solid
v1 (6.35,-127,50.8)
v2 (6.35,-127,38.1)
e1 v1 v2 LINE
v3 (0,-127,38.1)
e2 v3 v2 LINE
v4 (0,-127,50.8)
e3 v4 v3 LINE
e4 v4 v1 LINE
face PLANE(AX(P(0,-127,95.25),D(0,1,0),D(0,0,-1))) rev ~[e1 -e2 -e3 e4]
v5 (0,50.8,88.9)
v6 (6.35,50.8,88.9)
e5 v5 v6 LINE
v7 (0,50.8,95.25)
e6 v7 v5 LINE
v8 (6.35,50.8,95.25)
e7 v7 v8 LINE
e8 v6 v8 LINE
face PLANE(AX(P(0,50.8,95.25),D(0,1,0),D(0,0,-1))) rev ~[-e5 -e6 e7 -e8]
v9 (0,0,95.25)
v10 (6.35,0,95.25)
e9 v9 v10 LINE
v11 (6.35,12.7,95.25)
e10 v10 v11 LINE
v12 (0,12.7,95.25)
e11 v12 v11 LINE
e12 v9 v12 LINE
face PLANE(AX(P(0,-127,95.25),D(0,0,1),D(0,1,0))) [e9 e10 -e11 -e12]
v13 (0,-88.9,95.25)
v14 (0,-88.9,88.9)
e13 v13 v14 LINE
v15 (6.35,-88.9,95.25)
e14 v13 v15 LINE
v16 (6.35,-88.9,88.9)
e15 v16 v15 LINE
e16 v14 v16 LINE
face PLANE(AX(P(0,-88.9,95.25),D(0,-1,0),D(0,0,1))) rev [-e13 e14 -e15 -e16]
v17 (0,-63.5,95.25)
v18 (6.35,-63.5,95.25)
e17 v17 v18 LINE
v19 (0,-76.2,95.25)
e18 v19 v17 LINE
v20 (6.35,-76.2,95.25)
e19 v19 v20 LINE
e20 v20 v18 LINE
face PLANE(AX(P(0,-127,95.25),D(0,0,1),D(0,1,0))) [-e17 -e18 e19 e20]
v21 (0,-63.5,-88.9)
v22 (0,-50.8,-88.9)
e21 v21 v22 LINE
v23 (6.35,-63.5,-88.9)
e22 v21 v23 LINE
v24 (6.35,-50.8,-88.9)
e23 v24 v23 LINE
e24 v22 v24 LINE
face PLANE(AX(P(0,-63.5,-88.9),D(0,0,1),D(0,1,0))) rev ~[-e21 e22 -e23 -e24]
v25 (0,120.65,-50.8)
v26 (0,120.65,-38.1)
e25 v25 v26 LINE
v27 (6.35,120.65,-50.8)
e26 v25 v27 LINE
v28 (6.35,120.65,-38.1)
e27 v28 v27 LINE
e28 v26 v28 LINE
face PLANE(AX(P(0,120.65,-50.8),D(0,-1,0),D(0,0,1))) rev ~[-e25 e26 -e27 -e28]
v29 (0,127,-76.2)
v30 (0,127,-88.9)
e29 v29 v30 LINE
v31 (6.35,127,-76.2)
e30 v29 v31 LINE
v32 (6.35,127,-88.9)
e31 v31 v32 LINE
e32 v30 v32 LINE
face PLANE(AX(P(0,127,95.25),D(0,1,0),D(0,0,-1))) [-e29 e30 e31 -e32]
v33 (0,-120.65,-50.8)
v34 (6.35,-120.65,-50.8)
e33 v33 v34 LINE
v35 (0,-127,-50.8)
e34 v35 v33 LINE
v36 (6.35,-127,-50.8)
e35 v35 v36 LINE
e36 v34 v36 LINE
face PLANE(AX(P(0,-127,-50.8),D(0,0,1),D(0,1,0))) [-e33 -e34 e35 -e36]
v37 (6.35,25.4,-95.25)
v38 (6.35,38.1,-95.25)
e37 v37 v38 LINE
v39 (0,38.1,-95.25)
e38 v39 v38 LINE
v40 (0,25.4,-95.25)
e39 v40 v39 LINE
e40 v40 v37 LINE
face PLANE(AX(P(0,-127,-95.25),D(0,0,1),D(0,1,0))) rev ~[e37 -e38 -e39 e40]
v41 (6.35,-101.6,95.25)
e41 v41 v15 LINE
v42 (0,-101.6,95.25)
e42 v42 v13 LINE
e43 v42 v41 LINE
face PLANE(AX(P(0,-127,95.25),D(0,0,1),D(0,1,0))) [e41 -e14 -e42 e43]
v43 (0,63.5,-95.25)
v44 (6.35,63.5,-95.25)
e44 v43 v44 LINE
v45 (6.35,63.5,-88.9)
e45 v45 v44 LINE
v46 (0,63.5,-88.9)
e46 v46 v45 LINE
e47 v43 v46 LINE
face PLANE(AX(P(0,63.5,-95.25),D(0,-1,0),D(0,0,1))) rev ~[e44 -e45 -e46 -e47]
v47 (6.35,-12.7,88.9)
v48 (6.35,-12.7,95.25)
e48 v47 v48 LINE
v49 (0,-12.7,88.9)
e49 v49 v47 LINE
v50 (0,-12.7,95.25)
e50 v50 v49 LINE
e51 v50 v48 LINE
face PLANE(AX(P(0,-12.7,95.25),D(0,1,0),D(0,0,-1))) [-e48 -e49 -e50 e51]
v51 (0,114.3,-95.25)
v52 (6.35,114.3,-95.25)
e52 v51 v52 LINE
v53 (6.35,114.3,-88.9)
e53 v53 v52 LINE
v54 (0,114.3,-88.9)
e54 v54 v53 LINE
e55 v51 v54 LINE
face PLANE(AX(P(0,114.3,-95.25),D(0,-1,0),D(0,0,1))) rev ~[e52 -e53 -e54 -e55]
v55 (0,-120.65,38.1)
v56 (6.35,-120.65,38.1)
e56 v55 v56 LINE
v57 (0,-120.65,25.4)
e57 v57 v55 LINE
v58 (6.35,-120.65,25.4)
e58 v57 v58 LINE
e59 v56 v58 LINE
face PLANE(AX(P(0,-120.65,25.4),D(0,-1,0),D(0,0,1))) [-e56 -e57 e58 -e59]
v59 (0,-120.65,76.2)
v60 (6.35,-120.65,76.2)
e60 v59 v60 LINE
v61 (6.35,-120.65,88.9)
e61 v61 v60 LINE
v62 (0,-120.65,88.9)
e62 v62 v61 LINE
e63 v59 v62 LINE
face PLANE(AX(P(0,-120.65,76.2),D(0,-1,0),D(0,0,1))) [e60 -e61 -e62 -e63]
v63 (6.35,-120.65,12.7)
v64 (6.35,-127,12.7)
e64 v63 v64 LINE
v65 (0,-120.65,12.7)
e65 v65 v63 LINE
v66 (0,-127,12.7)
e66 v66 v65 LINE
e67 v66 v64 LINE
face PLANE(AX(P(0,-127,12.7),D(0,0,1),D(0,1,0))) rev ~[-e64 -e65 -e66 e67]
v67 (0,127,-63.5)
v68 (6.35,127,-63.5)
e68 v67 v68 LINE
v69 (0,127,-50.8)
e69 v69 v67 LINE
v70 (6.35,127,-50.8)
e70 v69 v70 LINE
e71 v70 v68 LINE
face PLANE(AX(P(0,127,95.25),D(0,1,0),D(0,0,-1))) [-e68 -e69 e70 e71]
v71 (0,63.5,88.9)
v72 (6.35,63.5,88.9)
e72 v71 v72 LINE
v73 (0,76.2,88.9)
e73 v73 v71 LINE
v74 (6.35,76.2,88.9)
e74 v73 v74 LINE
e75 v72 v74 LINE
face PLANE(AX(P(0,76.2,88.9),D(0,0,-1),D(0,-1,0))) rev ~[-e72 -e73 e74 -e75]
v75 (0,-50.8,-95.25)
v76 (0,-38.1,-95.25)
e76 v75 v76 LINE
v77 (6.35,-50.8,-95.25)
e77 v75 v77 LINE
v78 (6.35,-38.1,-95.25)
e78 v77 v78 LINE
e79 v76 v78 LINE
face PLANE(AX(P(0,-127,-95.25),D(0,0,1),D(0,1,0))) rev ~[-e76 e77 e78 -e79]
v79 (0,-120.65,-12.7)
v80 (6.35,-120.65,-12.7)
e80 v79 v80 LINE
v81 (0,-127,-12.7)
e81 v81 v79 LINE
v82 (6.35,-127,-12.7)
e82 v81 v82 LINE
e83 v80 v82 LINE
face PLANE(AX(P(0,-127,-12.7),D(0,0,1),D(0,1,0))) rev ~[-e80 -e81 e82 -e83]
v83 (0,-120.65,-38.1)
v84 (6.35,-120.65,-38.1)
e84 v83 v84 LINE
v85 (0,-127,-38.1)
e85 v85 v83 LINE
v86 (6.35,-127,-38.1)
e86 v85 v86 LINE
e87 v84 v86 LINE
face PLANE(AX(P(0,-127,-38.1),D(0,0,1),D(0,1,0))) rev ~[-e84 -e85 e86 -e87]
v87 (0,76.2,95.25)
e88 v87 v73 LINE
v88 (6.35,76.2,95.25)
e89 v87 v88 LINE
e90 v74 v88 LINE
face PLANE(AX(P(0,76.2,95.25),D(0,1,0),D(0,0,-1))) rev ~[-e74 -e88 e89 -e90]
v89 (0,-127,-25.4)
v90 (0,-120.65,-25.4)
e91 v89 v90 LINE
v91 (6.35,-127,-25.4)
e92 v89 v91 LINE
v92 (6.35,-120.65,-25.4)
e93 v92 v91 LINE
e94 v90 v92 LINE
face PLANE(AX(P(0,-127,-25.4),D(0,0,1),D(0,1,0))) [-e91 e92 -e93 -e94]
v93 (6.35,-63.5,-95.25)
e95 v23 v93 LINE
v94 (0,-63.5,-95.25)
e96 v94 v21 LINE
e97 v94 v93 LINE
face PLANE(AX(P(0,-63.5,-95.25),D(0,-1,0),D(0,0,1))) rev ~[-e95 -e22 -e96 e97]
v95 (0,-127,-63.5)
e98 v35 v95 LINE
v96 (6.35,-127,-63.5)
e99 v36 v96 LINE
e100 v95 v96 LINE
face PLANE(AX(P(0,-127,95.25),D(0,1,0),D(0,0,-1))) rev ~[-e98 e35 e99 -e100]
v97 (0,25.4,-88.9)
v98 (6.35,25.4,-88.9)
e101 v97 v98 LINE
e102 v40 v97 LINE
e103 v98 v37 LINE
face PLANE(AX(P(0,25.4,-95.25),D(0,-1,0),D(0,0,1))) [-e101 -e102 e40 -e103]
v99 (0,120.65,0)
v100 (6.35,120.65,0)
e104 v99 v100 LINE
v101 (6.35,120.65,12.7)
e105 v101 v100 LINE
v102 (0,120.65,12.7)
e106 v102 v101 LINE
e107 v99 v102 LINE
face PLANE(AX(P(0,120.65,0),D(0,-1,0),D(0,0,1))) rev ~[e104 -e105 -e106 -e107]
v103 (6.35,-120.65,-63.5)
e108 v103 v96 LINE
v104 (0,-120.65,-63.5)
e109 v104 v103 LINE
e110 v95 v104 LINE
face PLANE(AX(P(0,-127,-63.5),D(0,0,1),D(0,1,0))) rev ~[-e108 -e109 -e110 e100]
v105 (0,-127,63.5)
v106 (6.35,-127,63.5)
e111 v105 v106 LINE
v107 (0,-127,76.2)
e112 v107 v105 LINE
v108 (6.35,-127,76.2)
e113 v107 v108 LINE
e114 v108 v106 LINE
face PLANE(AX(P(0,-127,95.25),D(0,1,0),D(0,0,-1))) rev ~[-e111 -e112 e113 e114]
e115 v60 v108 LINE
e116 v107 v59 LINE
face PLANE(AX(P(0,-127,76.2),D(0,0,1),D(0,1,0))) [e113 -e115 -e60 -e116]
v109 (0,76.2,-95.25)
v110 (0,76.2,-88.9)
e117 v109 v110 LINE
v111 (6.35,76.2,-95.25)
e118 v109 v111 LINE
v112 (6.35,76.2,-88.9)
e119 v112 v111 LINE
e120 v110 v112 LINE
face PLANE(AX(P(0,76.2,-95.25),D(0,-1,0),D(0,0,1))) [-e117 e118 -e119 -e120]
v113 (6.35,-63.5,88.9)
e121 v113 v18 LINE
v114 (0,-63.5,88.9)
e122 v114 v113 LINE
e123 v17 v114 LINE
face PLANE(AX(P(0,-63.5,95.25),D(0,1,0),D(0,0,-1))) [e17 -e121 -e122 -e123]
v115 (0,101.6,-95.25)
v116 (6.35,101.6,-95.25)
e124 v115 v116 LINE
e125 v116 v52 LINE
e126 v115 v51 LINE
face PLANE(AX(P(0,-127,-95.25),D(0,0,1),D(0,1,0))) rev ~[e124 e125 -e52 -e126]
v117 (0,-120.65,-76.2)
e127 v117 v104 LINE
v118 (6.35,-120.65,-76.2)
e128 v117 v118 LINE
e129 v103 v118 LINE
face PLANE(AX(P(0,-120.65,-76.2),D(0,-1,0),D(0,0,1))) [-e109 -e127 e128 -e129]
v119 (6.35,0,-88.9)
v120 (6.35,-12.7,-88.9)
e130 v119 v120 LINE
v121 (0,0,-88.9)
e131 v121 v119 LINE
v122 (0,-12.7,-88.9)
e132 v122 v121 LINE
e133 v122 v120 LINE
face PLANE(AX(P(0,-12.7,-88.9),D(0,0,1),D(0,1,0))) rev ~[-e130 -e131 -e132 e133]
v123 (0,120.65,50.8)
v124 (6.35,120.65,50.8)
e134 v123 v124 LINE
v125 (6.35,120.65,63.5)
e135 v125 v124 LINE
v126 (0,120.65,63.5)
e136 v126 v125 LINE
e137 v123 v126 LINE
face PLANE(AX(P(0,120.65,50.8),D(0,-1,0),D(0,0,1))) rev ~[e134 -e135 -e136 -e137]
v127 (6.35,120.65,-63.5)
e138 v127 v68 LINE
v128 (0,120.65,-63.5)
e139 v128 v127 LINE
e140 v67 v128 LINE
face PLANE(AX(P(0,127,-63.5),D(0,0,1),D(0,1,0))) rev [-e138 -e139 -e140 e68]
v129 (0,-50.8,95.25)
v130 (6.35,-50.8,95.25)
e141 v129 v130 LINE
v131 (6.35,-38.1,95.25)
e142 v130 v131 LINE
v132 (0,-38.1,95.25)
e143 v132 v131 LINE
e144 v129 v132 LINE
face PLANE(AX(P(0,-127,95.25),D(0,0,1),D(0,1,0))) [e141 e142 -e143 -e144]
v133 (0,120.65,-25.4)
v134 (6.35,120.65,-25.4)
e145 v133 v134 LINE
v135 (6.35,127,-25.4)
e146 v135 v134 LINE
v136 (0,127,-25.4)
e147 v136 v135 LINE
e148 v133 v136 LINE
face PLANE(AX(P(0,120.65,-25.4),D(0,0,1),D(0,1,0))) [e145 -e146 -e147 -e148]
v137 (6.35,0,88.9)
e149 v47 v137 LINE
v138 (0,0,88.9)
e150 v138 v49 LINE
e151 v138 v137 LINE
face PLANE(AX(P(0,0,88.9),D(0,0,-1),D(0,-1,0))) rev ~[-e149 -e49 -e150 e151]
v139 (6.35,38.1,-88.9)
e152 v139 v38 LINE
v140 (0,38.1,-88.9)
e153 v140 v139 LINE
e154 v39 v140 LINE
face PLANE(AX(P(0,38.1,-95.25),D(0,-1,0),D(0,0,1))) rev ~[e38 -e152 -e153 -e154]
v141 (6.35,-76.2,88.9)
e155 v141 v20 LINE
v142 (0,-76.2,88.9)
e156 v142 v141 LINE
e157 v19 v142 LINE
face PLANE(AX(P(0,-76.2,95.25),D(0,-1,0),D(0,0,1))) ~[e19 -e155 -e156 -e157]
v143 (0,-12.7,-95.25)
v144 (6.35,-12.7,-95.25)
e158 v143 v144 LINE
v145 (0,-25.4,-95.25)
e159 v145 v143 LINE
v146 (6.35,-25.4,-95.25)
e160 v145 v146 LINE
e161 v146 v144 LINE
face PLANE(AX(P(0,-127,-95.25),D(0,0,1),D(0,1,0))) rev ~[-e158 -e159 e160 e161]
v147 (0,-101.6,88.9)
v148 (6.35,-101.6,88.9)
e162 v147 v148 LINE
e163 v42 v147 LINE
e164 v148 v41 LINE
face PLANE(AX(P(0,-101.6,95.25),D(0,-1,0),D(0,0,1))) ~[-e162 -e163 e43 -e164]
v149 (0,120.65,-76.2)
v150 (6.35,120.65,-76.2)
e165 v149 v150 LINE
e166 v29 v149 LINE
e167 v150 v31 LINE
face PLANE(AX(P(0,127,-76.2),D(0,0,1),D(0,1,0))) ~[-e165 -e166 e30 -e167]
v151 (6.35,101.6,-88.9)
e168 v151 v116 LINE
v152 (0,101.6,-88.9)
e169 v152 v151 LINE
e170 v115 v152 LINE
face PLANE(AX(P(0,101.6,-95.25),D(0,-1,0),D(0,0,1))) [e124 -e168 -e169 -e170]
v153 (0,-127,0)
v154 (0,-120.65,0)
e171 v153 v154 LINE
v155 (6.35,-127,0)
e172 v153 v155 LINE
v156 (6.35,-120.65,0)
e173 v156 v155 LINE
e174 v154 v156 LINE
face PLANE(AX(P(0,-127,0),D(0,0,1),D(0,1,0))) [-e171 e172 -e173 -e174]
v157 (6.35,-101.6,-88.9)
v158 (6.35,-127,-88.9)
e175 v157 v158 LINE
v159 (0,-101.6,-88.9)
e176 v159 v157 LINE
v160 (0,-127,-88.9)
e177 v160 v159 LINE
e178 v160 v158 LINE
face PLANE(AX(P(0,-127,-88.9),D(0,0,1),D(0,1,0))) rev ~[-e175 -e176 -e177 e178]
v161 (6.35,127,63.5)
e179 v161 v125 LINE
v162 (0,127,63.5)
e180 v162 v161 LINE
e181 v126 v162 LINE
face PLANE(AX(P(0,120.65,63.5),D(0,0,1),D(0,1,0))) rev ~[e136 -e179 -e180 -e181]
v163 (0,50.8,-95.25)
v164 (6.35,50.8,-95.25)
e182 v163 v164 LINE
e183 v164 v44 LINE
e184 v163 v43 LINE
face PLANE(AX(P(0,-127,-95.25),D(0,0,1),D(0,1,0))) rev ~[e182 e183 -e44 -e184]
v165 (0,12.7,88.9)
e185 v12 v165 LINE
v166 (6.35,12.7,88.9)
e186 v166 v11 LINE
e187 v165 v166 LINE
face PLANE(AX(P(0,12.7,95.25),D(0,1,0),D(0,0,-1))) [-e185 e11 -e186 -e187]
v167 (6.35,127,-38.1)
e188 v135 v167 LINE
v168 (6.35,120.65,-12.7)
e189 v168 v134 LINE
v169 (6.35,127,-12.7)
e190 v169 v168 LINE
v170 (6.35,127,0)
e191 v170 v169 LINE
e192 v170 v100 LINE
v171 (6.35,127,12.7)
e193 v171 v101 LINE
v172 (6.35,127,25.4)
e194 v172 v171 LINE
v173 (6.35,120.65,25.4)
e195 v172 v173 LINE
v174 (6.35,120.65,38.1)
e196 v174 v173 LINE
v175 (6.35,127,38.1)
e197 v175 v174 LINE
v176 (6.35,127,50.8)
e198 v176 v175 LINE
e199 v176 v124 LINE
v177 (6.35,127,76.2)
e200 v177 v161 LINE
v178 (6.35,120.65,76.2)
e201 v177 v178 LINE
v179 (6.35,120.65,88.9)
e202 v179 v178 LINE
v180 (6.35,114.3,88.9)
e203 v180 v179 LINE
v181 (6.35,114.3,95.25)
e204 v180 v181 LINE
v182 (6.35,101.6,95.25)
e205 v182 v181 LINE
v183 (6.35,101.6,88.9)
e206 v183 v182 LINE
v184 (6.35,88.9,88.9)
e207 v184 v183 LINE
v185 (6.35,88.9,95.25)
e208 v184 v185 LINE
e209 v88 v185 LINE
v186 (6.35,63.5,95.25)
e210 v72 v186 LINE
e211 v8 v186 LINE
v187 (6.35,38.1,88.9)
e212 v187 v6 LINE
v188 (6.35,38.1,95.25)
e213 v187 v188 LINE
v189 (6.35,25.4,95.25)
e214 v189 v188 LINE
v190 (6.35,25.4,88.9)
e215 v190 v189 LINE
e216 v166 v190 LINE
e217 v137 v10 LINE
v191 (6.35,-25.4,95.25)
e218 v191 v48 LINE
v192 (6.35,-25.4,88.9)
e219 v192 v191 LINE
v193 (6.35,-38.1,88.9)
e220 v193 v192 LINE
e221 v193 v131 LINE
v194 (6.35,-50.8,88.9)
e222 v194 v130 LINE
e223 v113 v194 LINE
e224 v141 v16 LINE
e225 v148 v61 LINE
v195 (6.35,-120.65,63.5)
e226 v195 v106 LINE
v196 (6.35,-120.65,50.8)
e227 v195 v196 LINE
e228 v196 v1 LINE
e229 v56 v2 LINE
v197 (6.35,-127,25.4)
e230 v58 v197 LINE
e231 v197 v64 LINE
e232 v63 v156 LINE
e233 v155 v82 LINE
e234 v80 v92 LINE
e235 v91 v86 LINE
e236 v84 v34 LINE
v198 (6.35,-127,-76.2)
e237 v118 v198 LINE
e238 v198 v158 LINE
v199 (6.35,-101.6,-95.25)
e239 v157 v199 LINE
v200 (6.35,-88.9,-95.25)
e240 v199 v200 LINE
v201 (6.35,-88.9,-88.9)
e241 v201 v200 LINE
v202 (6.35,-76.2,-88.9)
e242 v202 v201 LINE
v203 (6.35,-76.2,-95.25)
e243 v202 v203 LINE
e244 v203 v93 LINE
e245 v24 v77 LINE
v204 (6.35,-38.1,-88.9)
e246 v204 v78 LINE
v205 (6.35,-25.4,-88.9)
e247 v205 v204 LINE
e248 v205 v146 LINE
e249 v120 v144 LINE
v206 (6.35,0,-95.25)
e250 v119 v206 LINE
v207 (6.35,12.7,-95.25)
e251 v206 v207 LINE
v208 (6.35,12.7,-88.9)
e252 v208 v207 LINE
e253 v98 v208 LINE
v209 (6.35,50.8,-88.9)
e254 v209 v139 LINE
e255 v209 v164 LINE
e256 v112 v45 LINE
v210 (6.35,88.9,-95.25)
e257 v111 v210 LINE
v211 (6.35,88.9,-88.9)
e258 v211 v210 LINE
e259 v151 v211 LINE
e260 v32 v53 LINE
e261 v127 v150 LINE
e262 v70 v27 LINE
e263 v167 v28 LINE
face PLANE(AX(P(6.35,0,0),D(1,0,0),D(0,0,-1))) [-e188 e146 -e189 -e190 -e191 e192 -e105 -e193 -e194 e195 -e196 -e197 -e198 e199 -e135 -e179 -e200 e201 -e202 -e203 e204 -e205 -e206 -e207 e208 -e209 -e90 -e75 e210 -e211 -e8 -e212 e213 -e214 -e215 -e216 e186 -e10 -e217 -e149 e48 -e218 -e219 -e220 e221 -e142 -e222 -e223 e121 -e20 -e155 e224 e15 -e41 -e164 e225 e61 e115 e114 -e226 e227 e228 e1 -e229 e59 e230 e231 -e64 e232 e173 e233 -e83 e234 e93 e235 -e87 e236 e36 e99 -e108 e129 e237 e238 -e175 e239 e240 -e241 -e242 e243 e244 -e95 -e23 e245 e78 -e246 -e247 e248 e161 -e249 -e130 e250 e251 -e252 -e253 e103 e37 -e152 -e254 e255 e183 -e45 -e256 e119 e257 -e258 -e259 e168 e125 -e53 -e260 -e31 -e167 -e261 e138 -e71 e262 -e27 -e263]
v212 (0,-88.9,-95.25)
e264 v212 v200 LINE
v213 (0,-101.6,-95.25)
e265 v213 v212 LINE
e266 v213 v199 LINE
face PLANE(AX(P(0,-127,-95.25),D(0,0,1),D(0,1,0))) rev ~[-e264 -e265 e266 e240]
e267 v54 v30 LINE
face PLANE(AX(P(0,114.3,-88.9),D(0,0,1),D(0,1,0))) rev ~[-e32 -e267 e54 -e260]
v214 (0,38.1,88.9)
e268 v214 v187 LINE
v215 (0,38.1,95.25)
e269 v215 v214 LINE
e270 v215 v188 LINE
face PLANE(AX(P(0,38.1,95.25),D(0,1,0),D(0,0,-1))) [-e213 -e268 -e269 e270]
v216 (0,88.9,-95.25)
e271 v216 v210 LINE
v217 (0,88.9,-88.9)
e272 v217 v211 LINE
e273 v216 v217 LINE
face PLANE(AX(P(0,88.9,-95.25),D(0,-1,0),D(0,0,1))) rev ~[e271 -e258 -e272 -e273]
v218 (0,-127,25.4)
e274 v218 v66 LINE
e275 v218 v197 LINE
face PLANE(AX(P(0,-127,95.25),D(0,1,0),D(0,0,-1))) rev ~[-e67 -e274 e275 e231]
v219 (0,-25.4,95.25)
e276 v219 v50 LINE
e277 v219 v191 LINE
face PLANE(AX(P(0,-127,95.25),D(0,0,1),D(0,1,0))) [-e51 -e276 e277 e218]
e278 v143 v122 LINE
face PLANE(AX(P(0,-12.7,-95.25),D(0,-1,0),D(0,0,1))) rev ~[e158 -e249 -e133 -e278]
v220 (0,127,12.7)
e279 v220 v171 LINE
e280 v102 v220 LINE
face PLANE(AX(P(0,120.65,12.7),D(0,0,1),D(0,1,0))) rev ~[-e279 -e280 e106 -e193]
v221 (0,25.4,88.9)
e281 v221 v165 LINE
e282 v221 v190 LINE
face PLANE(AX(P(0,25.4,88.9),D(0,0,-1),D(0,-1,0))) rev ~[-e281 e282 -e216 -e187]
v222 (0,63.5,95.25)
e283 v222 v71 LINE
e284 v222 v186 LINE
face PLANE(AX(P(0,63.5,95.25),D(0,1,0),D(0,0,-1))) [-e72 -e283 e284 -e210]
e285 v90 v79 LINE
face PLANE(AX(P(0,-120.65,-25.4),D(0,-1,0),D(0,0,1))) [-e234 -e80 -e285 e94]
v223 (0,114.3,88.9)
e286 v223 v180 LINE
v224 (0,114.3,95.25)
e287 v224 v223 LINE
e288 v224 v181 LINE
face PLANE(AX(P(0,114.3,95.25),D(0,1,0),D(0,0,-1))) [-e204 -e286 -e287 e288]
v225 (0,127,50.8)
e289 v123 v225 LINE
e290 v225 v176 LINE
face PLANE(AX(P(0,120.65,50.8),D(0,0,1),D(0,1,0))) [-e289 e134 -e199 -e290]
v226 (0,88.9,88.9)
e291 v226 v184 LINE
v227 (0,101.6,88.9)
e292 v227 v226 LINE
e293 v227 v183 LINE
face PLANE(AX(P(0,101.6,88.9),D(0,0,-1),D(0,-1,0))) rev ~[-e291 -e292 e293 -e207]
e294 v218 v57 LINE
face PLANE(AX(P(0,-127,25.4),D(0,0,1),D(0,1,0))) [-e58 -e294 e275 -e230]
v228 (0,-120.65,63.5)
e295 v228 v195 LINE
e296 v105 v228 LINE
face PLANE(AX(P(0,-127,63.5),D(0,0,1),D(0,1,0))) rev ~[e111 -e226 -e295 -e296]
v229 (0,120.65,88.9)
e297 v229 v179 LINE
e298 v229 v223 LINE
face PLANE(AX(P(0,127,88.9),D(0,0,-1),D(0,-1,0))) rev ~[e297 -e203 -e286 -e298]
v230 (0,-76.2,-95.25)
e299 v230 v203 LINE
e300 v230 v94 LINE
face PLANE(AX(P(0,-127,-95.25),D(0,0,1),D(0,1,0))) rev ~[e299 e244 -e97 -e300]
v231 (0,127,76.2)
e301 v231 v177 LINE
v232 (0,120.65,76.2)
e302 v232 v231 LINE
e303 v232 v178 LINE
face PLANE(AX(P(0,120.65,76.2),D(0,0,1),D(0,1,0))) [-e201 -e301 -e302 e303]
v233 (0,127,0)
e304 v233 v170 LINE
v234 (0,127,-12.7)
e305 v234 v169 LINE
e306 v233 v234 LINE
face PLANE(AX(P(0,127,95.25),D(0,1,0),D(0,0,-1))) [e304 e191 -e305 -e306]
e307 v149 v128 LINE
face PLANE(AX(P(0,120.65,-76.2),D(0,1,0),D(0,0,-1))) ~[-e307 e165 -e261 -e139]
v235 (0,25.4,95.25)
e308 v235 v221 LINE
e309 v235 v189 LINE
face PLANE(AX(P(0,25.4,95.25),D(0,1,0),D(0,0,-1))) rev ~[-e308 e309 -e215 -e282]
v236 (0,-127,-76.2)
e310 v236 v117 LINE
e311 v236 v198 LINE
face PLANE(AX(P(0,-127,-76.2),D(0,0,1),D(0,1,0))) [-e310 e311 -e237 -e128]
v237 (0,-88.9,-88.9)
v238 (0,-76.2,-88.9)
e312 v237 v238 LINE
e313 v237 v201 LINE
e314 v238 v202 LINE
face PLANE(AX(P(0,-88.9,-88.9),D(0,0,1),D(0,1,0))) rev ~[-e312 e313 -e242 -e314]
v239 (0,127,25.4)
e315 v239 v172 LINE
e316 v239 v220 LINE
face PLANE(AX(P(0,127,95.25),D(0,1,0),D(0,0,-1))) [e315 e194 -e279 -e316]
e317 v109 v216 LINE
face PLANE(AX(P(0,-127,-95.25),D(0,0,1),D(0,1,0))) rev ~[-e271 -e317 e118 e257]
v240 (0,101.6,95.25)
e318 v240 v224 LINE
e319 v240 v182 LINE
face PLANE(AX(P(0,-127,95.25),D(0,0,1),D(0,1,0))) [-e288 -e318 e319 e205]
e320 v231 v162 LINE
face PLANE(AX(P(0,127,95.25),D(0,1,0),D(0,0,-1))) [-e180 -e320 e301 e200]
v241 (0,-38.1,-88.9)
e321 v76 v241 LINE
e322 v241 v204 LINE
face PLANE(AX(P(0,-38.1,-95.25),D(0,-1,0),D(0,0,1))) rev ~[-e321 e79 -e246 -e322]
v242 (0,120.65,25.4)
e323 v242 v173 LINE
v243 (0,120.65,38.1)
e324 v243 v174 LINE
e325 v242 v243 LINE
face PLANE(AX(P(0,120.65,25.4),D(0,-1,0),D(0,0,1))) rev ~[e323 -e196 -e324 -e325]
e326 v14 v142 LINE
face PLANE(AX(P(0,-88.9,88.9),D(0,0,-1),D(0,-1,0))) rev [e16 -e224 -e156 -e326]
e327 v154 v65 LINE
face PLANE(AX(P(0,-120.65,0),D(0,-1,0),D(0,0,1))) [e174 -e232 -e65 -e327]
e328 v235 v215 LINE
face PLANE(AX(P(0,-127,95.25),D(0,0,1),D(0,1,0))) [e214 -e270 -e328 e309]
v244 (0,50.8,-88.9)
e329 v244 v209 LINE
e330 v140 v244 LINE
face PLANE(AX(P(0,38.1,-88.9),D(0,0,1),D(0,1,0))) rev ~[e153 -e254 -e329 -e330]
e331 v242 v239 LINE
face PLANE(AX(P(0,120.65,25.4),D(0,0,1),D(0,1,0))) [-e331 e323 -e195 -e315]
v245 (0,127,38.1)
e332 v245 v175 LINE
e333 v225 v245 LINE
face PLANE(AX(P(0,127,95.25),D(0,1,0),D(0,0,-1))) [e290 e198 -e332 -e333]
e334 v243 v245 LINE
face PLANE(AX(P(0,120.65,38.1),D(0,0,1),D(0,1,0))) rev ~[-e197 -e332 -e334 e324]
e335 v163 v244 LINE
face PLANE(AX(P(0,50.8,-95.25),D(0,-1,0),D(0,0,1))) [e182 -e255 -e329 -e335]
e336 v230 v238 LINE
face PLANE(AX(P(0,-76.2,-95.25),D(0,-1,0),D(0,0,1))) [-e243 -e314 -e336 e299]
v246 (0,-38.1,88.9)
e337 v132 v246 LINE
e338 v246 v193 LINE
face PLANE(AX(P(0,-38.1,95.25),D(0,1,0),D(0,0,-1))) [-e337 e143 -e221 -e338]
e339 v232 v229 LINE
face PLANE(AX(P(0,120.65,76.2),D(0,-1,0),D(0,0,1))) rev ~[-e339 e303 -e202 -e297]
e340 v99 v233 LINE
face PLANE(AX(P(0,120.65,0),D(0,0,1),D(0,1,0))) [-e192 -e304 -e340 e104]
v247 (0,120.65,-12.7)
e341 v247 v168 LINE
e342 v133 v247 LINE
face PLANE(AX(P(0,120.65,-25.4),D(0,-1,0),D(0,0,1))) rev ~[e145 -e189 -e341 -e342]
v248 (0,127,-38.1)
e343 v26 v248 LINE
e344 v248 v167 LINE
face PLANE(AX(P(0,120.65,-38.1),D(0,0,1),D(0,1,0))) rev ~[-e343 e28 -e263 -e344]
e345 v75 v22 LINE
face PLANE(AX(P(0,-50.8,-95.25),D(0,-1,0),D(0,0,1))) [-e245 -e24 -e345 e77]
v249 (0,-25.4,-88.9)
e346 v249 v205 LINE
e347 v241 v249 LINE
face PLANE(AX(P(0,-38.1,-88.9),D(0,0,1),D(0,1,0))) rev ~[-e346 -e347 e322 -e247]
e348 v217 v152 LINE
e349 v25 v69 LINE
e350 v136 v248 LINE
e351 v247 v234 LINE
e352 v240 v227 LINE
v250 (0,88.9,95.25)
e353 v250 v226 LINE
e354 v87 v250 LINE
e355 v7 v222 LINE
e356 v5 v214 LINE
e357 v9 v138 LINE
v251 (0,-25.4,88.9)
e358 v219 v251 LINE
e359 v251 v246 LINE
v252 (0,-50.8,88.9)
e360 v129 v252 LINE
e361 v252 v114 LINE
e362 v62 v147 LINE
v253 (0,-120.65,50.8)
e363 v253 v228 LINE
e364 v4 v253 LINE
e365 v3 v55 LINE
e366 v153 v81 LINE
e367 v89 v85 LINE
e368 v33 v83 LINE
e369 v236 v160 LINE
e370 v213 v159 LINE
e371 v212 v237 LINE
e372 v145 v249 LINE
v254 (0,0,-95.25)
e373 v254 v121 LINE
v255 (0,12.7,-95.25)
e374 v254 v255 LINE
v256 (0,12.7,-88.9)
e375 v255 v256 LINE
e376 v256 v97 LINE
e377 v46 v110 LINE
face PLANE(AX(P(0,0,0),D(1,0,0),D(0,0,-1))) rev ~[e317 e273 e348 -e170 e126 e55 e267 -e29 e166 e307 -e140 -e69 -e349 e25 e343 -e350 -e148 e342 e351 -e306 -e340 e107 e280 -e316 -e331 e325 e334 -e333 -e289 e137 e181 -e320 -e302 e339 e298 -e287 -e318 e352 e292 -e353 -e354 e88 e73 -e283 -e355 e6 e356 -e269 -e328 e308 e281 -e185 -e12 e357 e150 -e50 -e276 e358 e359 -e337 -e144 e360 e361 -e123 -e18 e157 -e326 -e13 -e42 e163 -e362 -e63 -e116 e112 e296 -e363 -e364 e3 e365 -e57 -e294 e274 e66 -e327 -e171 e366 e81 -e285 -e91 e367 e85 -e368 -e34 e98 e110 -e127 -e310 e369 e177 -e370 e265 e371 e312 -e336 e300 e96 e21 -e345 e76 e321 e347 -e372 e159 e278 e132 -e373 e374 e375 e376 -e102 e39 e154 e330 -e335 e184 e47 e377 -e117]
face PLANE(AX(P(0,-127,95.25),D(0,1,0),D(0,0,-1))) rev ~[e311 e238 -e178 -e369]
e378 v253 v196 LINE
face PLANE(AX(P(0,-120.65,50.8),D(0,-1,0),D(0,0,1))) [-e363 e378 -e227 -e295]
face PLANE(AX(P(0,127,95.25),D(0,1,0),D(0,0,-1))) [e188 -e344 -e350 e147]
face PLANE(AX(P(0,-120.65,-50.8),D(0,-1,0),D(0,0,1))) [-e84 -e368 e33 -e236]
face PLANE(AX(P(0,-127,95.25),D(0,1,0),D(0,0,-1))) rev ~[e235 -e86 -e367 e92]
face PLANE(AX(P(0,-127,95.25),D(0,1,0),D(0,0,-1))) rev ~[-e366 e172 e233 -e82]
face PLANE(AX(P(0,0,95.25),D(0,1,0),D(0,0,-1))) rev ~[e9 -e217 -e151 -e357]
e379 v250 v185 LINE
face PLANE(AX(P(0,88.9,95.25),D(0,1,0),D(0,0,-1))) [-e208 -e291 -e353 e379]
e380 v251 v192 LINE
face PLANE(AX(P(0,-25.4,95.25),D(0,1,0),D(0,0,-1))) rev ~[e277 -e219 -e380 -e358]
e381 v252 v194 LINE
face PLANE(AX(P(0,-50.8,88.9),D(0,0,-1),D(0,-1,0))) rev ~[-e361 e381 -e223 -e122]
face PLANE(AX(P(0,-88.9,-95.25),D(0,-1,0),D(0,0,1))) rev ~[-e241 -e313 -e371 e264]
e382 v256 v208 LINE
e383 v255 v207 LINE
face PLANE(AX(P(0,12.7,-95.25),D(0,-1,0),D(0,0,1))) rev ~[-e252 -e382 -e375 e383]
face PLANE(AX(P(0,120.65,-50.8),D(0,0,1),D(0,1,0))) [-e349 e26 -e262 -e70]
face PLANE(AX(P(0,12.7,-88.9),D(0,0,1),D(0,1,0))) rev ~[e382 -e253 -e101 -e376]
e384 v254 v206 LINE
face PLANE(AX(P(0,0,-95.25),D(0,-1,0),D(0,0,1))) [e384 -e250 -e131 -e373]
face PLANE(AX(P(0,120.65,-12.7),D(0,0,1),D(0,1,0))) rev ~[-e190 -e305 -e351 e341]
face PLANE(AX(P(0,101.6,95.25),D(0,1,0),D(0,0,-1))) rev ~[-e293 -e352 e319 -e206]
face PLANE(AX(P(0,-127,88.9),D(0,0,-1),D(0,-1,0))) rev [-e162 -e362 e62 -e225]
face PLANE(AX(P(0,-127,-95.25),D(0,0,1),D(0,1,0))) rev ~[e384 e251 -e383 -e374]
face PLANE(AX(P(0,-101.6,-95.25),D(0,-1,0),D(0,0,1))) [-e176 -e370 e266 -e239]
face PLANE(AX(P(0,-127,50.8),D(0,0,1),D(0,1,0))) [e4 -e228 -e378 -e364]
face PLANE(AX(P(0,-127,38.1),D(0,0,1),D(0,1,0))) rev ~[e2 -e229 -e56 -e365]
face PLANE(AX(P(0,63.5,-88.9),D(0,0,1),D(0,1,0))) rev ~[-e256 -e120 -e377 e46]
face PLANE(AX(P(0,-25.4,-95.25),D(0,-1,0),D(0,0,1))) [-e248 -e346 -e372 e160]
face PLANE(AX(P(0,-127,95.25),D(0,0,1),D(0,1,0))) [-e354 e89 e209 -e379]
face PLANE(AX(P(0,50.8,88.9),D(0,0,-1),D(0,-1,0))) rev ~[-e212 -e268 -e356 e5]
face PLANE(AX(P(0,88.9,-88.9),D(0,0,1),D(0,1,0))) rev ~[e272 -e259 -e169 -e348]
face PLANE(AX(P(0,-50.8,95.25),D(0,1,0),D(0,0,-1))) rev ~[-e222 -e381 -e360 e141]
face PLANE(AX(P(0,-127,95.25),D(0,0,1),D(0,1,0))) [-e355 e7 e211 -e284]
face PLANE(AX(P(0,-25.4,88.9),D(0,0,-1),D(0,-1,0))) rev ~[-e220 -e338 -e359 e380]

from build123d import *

# Parameters (mm, degrees)
SKETCH1_W               = 190.5
SKETCH1_H               = 254
BOSS_EXTRUDE1_DEPTH     = 6.35
SKETCH2_W               = 6.35
SKETCH2_H               = 12.7
CUT_EXTRUDE1_DEPTH      = 7.35
LPATTERN1_COUNT         = 9
LPATTERN1_PITCH         = 25.4
MIRROR1_COPY_1_SKETCH_W = 6.35
MIRROR1_COPY_1_SKETCH_H = 12.7
MIRROR1_COPY_1_DEPTH    = 7.35
MIRROR1_COPY_2_SKETCH_W = 6.35
MIRROR1_COPY_2_SKETCH_H = 12.7
MIRROR1_COPY_2_DEPTH    = 7.35
MIRROR1_COPY_3_SKETCH_W = 6.35
MIRROR1_COPY_3_SKETCH_H = 12.7
MIRROR1_COPY_3_DEPTH    = 7.35
MIRROR1_COPY_4_SKETCH_W = 6.35
MIRROR1_COPY_4_SKETCH_H = 12.7
MIRROR1_COPY_4_DEPTH    = 7.35
MIRROR1_COPY_5_SKETCH_W = 6.35
MIRROR1_COPY_5_SKETCH_H = 12.7
MIRROR1_COPY_5_DEPTH    = 7.35
MIRROR1_COPY_6_SKETCH_W = 6.35
MIRROR1_COPY_6_SKETCH_H = 12.7
MIRROR1_COPY_6_DEPTH    = 7.35
MIRROR1_COPY_7_SKETCH_W = 6.35
MIRROR1_COPY_7_SKETCH_H = 12.7
MIRROR1_COPY_7_DEPTH    = 7.35
MIRROR1_COPY_8_SKETCH_W = 6.35
MIRROR1_COPY_8_SKETCH_H = 12.7
MIRROR1_COPY_8_DEPTH    = 7.35
SKETCH3_W               = 12.7
SKETCH3_H               = 6.35
CUT_EXTRUDE2_DEPTH      = 7.35
LPATTERN2_COUNT         = 7
LPATTERN2_PITCH         = 25.4
MIRROR2_COPY_1_SKETCH_W = 12.7
MIRROR2_COPY_1_SKETCH_H = 6.35
MIRROR2_COPY_1_DEPTH    = 7.35
MIRROR2_COPY_2_SKETCH_W = 12.7
MIRROR2_COPY_2_SKETCH_H = 6.35
MIRROR2_COPY_2_DEPTH    = 7.35
MIRROR2_COPY_3_SKETCH_W = 12.7
MIRROR2_COPY_3_SKETCH_H = 6.35
MIRROR2_COPY_3_DEPTH    = 7.35
MIRROR2_COPY_4_SKETCH_W = 12.7
MIRROR2_COPY_4_SKETCH_H = 6.35
MIRROR2_COPY_4_DEPTH    = 7.35
MIRROR2_COPY_5_SKETCH_W = 12.7
MIRROR2_COPY_5_SKETCH_H = 6.35
MIRROR2_COPY_5_DEPTH    = 7.35
MIRROR2_COPY_6_SKETCH_W = 12.7
MIRROR2_COPY_6_SKETCH_H = 6.35
MIRROR2_COPY_6_DEPTH    = 7.35
SKETCH4_W               = 6.35
SKETCH4_H               = 25.4
CUT_EXTRUDE3_DEPTH      = 7.35


with BuildPart() as part:
    # Sketch1 → Boss-Extrude1 (new body)
    with BuildSketch(Plane(origin=(0, 0, 0), x_dir=(0, 0, -1), z_dir=(1, 0, 0))):
        Rectangle(SKETCH1_W, SKETCH1_H)
    extrude(amount=BOSS_EXTRUDE1_DEPTH)

    # Sketch2 → Cut-Extrude1 (cut, through all)
    with BuildSketch(Plane.ZY):
        with Locations((-92.075, -82.55)):
            Rectangle(SKETCH2_W, SKETCH2_H)
    cut_extrude1 = extrude(amount=-CUT_EXTRUDE1_DEPTH, mode=Mode.SUBTRACT)

    # LPattern1: Cut-Extrude1 ×9
    with Locations(*[(0, i * LPATTERN1_PITCH, 0) for i in range(1, LPATTERN1_COUNT)]):
        add(cut_extrude1, mode=Mode.SUBTRACT)

    # Mirror1: Cut-Extrude1 across plane
    add(cut_extrude1.mirror(Plane.XY), mode=Mode.SUBTRACT)

    # Mirror1 copy 1 sketch → Mirror1 copy 1 (cut, through all)
    with BuildSketch(Plane(origin=(0, 25.4, 0), x_dir=(0, 0, -1), z_dir=(-1, 0, 0))):
        with Locations((-92.075, 82.55)):
            Rectangle(MIRROR1_COPY_1_SKETCH_W, MIRROR1_COPY_1_SKETCH_H)
    extrude(amount=-MIRROR1_COPY_1_DEPTH, mode=Mode.SUBTRACT)

    # Mirror1 copy 2 sketch → Mirror1 copy 2 (cut, through all)
    with BuildSketch(Plane(origin=(0, 50.8, 0), x_dir=(0, 0, -1), z_dir=(-1, 0, 0))):
        with Locations((-92.075, 82.55)):
            Rectangle(MIRROR1_COPY_2_SKETCH_W, MIRROR1_COPY_2_SKETCH_H)
    extrude(amount=-MIRROR1_COPY_2_DEPTH, mode=Mode.SUBTRACT)

    # Mirror1 copy 3 sketch → Mirror1 copy 3 (cut, through all)
    with BuildSketch(Plane(origin=(0, 76.2, 0), x_dir=(0, 0, -1), z_dir=(-1, 0, 0))):
        with Locations((-92.075, 82.55)):
            Rectangle(MIRROR1_COPY_3_SKETCH_W, MIRROR1_COPY_3_SKETCH_H)
    extrude(amount=-MIRROR1_COPY_3_DEPTH, mode=Mode.SUBTRACT)

    # Mirror1 copy 4 sketch → Mirror1 copy 4 (cut, through all)
    with BuildSketch(Plane(origin=(0, 101.6, 0), x_dir=(0, 0, -1), z_dir=(-1, 0, 0))):
        with Locations((-92.075, 82.55)):
            Rectangle(MIRROR1_COPY_4_SKETCH_W, MIRROR1_COPY_4_SKETCH_H)
    extrude(amount=-MIRROR1_COPY_4_DEPTH, mode=Mode.SUBTRACT)

    # Mirror1 copy 5 sketch → Mirror1 copy 5 (cut, through all)
    with BuildSketch(Plane(origin=(0, 127, 0), x_dir=(0, 0, -1), z_dir=(-1, 0, 0))):
        with Locations((-92.075, 82.55)):
            Rectangle(MIRROR1_COPY_5_SKETCH_W, MIRROR1_COPY_5_SKETCH_H)
    extrude(amount=-MIRROR1_COPY_5_DEPTH, mode=Mode.SUBTRACT)

    # Mirror1 copy 6 sketch → Mirror1 copy 6 (cut, through all)
    with BuildSketch(Plane(origin=(0, 152.4, 0), x_dir=(0, 0, -1), z_dir=(-1, 0, 0))):
        with Locations((-92.075, 82.55)):
            Rectangle(MIRROR1_COPY_6_SKETCH_W, MIRROR1_COPY_6_SKETCH_H)
    extrude(amount=-MIRROR1_COPY_6_DEPTH, mode=Mode.SUBTRACT)

    # Mirror1 copy 7 sketch → Mirror1 copy 7 (cut, through all)
    with BuildSketch(Plane(origin=(0, 177.8, 0), x_dir=(0, 0, -1), z_dir=(-1, 0, 0))):
        with Locations((-92.075, 82.55)):
            Rectangle(MIRROR1_COPY_7_SKETCH_W, MIRROR1_COPY_7_SKETCH_H)
    extrude(amount=-MIRROR1_COPY_7_DEPTH, mode=Mode.SUBTRACT)

    # Mirror1 copy 8 sketch → Mirror1 copy 8 (cut, through all)
    with BuildSketch(Plane(origin=(0, 203.2, 0), x_dir=(0, 0, -1), z_dir=(-1, 0, 0))):
        with Locations((-92.075, 82.55)):
            Rectangle(MIRROR1_COPY_8_SKETCH_W, MIRROR1_COPY_8_SKETCH_H)
    extrude(amount=-MIRROR1_COPY_8_DEPTH, mode=Mode.SUBTRACT)

    # Sketch3 → Cut-Extrude2 (cut, through all)
    with BuildSketch(Plane.ZY):
        with Locations((-69.85, -123.825)):
            Rectangle(SKETCH3_W, SKETCH3_H)
    cut_extrude2 = extrude(amount=-CUT_EXTRUDE2_DEPTH, mode=Mode.SUBTRACT)

    # LPattern2: Cut-Extrude2 ×7
    with Locations(*[(0, 0, i * LPATTERN2_PITCH) for i in range(1, LPATTERN2_COUNT)]):
        add(cut_extrude2, mode=Mode.SUBTRACT)

    # Mirror2: Cut-Extrude2 across plane
    add(cut_extrude2.mirror(Plane.ZX), mode=Mode.SUBTRACT)

    # Mirror2 copy 1 sketch → Mirror2 copy 1 (cut, through all)
    with BuildSketch(Plane(origin=(0, 0, 25.4), x_dir=(0, 0, 1), z_dir=(-1, 0, 0))):
        with Locations((-69.85, 123.825)):
            Rectangle(MIRROR2_COPY_1_SKETCH_W, MIRROR2_COPY_1_SKETCH_H)
    extrude(amount=-MIRROR2_COPY_1_DEPTH, mode=Mode.SUBTRACT)

    # Mirror2 copy 2 sketch → Mirror2 copy 2 (cut, through all)
    with BuildSketch(Plane(origin=(0, 0, 50.8), x_dir=(0, 0, 1), z_dir=(-1, 0, 0))):
        with Locations((-69.85, 123.825)):
            Rectangle(MIRROR2_COPY_2_SKETCH_W, MIRROR2_COPY_2_SKETCH_H)
    extrude(amount=-MIRROR2_COPY_2_DEPTH, mode=Mode.SUBTRACT)

    # Mirror2 copy 3 sketch → Mirror2 copy 3 (cut, through all)
    with BuildSketch(Plane(origin=(0, 0, 76.2), x_dir=(0, 0, 1), z_dir=(-1, 0, 0))):
        with Locations((-69.85, 123.825)):
            Rectangle(MIRROR2_COPY_3_SKETCH_W, MIRROR2_COPY_3_SKETCH_H)
    extrude(amount=-MIRROR2_COPY_3_DEPTH, mode=Mode.SUBTRACT)

    # Mirror2 copy 4 sketch → Mirror2 copy 4 (cut, through all)
    with BuildSketch(Plane(origin=(0, 0, 101.6), x_dir=(0, 0, 1), z_dir=(-1, 0, 0))):
        with Locations((-69.85, 123.825)):
            Rectangle(MIRROR2_COPY_4_SKETCH_W, MIRROR2_COPY_4_SKETCH_H)
    extrude(amount=-MIRROR2_COPY_4_DEPTH, mode=Mode.SUBTRACT)

    # Mirror2 copy 5 sketch → Mirror2 copy 5 (cut, through all)
    with BuildSketch(Plane(origin=(0, 0, 127), x_dir=(0, 0, 1), z_dir=(-1, 0, 0))):
        with Locations((-69.85, 123.825)):
            Rectangle(MIRROR2_COPY_5_SKETCH_W, MIRROR2_COPY_5_SKETCH_H)
    extrude(amount=-MIRROR2_COPY_5_DEPTH, mode=Mode.SUBTRACT)

    # Mirror2 copy 6 sketch → Mirror2 copy 6 (cut, through all)
    with BuildSketch(Plane(origin=(0, 0, 152.4), x_dir=(0, 0, 1), z_dir=(-1, 0, 0))):
        with Locations((-69.85, 123.825)):
            Rectangle(MIRROR2_COPY_6_SKETCH_W, MIRROR2_COPY_6_SKETCH_H)
    extrude(amount=-MIRROR2_COPY_6_DEPTH, mode=Mode.SUBTRACT)

    # Sketch4 → Cut-Extrude3 (cut, through all)
    with BuildSketch(Plane.ZY):
        with Locations((-92.075, -114.3)):
            Rectangle(SKETCH4_W, SKETCH4_H)
    cut_extrude3 = extrude(amount=-CUT_EXTRUDE3_DEPTH, mode=Mode.SUBTRACT)

    # Mirror3: Cut-Extrude3 across plane
    add(cut_extrude3.mirror(Plane.XY), mode=Mode.SUBTRACT)


solid = part.part
